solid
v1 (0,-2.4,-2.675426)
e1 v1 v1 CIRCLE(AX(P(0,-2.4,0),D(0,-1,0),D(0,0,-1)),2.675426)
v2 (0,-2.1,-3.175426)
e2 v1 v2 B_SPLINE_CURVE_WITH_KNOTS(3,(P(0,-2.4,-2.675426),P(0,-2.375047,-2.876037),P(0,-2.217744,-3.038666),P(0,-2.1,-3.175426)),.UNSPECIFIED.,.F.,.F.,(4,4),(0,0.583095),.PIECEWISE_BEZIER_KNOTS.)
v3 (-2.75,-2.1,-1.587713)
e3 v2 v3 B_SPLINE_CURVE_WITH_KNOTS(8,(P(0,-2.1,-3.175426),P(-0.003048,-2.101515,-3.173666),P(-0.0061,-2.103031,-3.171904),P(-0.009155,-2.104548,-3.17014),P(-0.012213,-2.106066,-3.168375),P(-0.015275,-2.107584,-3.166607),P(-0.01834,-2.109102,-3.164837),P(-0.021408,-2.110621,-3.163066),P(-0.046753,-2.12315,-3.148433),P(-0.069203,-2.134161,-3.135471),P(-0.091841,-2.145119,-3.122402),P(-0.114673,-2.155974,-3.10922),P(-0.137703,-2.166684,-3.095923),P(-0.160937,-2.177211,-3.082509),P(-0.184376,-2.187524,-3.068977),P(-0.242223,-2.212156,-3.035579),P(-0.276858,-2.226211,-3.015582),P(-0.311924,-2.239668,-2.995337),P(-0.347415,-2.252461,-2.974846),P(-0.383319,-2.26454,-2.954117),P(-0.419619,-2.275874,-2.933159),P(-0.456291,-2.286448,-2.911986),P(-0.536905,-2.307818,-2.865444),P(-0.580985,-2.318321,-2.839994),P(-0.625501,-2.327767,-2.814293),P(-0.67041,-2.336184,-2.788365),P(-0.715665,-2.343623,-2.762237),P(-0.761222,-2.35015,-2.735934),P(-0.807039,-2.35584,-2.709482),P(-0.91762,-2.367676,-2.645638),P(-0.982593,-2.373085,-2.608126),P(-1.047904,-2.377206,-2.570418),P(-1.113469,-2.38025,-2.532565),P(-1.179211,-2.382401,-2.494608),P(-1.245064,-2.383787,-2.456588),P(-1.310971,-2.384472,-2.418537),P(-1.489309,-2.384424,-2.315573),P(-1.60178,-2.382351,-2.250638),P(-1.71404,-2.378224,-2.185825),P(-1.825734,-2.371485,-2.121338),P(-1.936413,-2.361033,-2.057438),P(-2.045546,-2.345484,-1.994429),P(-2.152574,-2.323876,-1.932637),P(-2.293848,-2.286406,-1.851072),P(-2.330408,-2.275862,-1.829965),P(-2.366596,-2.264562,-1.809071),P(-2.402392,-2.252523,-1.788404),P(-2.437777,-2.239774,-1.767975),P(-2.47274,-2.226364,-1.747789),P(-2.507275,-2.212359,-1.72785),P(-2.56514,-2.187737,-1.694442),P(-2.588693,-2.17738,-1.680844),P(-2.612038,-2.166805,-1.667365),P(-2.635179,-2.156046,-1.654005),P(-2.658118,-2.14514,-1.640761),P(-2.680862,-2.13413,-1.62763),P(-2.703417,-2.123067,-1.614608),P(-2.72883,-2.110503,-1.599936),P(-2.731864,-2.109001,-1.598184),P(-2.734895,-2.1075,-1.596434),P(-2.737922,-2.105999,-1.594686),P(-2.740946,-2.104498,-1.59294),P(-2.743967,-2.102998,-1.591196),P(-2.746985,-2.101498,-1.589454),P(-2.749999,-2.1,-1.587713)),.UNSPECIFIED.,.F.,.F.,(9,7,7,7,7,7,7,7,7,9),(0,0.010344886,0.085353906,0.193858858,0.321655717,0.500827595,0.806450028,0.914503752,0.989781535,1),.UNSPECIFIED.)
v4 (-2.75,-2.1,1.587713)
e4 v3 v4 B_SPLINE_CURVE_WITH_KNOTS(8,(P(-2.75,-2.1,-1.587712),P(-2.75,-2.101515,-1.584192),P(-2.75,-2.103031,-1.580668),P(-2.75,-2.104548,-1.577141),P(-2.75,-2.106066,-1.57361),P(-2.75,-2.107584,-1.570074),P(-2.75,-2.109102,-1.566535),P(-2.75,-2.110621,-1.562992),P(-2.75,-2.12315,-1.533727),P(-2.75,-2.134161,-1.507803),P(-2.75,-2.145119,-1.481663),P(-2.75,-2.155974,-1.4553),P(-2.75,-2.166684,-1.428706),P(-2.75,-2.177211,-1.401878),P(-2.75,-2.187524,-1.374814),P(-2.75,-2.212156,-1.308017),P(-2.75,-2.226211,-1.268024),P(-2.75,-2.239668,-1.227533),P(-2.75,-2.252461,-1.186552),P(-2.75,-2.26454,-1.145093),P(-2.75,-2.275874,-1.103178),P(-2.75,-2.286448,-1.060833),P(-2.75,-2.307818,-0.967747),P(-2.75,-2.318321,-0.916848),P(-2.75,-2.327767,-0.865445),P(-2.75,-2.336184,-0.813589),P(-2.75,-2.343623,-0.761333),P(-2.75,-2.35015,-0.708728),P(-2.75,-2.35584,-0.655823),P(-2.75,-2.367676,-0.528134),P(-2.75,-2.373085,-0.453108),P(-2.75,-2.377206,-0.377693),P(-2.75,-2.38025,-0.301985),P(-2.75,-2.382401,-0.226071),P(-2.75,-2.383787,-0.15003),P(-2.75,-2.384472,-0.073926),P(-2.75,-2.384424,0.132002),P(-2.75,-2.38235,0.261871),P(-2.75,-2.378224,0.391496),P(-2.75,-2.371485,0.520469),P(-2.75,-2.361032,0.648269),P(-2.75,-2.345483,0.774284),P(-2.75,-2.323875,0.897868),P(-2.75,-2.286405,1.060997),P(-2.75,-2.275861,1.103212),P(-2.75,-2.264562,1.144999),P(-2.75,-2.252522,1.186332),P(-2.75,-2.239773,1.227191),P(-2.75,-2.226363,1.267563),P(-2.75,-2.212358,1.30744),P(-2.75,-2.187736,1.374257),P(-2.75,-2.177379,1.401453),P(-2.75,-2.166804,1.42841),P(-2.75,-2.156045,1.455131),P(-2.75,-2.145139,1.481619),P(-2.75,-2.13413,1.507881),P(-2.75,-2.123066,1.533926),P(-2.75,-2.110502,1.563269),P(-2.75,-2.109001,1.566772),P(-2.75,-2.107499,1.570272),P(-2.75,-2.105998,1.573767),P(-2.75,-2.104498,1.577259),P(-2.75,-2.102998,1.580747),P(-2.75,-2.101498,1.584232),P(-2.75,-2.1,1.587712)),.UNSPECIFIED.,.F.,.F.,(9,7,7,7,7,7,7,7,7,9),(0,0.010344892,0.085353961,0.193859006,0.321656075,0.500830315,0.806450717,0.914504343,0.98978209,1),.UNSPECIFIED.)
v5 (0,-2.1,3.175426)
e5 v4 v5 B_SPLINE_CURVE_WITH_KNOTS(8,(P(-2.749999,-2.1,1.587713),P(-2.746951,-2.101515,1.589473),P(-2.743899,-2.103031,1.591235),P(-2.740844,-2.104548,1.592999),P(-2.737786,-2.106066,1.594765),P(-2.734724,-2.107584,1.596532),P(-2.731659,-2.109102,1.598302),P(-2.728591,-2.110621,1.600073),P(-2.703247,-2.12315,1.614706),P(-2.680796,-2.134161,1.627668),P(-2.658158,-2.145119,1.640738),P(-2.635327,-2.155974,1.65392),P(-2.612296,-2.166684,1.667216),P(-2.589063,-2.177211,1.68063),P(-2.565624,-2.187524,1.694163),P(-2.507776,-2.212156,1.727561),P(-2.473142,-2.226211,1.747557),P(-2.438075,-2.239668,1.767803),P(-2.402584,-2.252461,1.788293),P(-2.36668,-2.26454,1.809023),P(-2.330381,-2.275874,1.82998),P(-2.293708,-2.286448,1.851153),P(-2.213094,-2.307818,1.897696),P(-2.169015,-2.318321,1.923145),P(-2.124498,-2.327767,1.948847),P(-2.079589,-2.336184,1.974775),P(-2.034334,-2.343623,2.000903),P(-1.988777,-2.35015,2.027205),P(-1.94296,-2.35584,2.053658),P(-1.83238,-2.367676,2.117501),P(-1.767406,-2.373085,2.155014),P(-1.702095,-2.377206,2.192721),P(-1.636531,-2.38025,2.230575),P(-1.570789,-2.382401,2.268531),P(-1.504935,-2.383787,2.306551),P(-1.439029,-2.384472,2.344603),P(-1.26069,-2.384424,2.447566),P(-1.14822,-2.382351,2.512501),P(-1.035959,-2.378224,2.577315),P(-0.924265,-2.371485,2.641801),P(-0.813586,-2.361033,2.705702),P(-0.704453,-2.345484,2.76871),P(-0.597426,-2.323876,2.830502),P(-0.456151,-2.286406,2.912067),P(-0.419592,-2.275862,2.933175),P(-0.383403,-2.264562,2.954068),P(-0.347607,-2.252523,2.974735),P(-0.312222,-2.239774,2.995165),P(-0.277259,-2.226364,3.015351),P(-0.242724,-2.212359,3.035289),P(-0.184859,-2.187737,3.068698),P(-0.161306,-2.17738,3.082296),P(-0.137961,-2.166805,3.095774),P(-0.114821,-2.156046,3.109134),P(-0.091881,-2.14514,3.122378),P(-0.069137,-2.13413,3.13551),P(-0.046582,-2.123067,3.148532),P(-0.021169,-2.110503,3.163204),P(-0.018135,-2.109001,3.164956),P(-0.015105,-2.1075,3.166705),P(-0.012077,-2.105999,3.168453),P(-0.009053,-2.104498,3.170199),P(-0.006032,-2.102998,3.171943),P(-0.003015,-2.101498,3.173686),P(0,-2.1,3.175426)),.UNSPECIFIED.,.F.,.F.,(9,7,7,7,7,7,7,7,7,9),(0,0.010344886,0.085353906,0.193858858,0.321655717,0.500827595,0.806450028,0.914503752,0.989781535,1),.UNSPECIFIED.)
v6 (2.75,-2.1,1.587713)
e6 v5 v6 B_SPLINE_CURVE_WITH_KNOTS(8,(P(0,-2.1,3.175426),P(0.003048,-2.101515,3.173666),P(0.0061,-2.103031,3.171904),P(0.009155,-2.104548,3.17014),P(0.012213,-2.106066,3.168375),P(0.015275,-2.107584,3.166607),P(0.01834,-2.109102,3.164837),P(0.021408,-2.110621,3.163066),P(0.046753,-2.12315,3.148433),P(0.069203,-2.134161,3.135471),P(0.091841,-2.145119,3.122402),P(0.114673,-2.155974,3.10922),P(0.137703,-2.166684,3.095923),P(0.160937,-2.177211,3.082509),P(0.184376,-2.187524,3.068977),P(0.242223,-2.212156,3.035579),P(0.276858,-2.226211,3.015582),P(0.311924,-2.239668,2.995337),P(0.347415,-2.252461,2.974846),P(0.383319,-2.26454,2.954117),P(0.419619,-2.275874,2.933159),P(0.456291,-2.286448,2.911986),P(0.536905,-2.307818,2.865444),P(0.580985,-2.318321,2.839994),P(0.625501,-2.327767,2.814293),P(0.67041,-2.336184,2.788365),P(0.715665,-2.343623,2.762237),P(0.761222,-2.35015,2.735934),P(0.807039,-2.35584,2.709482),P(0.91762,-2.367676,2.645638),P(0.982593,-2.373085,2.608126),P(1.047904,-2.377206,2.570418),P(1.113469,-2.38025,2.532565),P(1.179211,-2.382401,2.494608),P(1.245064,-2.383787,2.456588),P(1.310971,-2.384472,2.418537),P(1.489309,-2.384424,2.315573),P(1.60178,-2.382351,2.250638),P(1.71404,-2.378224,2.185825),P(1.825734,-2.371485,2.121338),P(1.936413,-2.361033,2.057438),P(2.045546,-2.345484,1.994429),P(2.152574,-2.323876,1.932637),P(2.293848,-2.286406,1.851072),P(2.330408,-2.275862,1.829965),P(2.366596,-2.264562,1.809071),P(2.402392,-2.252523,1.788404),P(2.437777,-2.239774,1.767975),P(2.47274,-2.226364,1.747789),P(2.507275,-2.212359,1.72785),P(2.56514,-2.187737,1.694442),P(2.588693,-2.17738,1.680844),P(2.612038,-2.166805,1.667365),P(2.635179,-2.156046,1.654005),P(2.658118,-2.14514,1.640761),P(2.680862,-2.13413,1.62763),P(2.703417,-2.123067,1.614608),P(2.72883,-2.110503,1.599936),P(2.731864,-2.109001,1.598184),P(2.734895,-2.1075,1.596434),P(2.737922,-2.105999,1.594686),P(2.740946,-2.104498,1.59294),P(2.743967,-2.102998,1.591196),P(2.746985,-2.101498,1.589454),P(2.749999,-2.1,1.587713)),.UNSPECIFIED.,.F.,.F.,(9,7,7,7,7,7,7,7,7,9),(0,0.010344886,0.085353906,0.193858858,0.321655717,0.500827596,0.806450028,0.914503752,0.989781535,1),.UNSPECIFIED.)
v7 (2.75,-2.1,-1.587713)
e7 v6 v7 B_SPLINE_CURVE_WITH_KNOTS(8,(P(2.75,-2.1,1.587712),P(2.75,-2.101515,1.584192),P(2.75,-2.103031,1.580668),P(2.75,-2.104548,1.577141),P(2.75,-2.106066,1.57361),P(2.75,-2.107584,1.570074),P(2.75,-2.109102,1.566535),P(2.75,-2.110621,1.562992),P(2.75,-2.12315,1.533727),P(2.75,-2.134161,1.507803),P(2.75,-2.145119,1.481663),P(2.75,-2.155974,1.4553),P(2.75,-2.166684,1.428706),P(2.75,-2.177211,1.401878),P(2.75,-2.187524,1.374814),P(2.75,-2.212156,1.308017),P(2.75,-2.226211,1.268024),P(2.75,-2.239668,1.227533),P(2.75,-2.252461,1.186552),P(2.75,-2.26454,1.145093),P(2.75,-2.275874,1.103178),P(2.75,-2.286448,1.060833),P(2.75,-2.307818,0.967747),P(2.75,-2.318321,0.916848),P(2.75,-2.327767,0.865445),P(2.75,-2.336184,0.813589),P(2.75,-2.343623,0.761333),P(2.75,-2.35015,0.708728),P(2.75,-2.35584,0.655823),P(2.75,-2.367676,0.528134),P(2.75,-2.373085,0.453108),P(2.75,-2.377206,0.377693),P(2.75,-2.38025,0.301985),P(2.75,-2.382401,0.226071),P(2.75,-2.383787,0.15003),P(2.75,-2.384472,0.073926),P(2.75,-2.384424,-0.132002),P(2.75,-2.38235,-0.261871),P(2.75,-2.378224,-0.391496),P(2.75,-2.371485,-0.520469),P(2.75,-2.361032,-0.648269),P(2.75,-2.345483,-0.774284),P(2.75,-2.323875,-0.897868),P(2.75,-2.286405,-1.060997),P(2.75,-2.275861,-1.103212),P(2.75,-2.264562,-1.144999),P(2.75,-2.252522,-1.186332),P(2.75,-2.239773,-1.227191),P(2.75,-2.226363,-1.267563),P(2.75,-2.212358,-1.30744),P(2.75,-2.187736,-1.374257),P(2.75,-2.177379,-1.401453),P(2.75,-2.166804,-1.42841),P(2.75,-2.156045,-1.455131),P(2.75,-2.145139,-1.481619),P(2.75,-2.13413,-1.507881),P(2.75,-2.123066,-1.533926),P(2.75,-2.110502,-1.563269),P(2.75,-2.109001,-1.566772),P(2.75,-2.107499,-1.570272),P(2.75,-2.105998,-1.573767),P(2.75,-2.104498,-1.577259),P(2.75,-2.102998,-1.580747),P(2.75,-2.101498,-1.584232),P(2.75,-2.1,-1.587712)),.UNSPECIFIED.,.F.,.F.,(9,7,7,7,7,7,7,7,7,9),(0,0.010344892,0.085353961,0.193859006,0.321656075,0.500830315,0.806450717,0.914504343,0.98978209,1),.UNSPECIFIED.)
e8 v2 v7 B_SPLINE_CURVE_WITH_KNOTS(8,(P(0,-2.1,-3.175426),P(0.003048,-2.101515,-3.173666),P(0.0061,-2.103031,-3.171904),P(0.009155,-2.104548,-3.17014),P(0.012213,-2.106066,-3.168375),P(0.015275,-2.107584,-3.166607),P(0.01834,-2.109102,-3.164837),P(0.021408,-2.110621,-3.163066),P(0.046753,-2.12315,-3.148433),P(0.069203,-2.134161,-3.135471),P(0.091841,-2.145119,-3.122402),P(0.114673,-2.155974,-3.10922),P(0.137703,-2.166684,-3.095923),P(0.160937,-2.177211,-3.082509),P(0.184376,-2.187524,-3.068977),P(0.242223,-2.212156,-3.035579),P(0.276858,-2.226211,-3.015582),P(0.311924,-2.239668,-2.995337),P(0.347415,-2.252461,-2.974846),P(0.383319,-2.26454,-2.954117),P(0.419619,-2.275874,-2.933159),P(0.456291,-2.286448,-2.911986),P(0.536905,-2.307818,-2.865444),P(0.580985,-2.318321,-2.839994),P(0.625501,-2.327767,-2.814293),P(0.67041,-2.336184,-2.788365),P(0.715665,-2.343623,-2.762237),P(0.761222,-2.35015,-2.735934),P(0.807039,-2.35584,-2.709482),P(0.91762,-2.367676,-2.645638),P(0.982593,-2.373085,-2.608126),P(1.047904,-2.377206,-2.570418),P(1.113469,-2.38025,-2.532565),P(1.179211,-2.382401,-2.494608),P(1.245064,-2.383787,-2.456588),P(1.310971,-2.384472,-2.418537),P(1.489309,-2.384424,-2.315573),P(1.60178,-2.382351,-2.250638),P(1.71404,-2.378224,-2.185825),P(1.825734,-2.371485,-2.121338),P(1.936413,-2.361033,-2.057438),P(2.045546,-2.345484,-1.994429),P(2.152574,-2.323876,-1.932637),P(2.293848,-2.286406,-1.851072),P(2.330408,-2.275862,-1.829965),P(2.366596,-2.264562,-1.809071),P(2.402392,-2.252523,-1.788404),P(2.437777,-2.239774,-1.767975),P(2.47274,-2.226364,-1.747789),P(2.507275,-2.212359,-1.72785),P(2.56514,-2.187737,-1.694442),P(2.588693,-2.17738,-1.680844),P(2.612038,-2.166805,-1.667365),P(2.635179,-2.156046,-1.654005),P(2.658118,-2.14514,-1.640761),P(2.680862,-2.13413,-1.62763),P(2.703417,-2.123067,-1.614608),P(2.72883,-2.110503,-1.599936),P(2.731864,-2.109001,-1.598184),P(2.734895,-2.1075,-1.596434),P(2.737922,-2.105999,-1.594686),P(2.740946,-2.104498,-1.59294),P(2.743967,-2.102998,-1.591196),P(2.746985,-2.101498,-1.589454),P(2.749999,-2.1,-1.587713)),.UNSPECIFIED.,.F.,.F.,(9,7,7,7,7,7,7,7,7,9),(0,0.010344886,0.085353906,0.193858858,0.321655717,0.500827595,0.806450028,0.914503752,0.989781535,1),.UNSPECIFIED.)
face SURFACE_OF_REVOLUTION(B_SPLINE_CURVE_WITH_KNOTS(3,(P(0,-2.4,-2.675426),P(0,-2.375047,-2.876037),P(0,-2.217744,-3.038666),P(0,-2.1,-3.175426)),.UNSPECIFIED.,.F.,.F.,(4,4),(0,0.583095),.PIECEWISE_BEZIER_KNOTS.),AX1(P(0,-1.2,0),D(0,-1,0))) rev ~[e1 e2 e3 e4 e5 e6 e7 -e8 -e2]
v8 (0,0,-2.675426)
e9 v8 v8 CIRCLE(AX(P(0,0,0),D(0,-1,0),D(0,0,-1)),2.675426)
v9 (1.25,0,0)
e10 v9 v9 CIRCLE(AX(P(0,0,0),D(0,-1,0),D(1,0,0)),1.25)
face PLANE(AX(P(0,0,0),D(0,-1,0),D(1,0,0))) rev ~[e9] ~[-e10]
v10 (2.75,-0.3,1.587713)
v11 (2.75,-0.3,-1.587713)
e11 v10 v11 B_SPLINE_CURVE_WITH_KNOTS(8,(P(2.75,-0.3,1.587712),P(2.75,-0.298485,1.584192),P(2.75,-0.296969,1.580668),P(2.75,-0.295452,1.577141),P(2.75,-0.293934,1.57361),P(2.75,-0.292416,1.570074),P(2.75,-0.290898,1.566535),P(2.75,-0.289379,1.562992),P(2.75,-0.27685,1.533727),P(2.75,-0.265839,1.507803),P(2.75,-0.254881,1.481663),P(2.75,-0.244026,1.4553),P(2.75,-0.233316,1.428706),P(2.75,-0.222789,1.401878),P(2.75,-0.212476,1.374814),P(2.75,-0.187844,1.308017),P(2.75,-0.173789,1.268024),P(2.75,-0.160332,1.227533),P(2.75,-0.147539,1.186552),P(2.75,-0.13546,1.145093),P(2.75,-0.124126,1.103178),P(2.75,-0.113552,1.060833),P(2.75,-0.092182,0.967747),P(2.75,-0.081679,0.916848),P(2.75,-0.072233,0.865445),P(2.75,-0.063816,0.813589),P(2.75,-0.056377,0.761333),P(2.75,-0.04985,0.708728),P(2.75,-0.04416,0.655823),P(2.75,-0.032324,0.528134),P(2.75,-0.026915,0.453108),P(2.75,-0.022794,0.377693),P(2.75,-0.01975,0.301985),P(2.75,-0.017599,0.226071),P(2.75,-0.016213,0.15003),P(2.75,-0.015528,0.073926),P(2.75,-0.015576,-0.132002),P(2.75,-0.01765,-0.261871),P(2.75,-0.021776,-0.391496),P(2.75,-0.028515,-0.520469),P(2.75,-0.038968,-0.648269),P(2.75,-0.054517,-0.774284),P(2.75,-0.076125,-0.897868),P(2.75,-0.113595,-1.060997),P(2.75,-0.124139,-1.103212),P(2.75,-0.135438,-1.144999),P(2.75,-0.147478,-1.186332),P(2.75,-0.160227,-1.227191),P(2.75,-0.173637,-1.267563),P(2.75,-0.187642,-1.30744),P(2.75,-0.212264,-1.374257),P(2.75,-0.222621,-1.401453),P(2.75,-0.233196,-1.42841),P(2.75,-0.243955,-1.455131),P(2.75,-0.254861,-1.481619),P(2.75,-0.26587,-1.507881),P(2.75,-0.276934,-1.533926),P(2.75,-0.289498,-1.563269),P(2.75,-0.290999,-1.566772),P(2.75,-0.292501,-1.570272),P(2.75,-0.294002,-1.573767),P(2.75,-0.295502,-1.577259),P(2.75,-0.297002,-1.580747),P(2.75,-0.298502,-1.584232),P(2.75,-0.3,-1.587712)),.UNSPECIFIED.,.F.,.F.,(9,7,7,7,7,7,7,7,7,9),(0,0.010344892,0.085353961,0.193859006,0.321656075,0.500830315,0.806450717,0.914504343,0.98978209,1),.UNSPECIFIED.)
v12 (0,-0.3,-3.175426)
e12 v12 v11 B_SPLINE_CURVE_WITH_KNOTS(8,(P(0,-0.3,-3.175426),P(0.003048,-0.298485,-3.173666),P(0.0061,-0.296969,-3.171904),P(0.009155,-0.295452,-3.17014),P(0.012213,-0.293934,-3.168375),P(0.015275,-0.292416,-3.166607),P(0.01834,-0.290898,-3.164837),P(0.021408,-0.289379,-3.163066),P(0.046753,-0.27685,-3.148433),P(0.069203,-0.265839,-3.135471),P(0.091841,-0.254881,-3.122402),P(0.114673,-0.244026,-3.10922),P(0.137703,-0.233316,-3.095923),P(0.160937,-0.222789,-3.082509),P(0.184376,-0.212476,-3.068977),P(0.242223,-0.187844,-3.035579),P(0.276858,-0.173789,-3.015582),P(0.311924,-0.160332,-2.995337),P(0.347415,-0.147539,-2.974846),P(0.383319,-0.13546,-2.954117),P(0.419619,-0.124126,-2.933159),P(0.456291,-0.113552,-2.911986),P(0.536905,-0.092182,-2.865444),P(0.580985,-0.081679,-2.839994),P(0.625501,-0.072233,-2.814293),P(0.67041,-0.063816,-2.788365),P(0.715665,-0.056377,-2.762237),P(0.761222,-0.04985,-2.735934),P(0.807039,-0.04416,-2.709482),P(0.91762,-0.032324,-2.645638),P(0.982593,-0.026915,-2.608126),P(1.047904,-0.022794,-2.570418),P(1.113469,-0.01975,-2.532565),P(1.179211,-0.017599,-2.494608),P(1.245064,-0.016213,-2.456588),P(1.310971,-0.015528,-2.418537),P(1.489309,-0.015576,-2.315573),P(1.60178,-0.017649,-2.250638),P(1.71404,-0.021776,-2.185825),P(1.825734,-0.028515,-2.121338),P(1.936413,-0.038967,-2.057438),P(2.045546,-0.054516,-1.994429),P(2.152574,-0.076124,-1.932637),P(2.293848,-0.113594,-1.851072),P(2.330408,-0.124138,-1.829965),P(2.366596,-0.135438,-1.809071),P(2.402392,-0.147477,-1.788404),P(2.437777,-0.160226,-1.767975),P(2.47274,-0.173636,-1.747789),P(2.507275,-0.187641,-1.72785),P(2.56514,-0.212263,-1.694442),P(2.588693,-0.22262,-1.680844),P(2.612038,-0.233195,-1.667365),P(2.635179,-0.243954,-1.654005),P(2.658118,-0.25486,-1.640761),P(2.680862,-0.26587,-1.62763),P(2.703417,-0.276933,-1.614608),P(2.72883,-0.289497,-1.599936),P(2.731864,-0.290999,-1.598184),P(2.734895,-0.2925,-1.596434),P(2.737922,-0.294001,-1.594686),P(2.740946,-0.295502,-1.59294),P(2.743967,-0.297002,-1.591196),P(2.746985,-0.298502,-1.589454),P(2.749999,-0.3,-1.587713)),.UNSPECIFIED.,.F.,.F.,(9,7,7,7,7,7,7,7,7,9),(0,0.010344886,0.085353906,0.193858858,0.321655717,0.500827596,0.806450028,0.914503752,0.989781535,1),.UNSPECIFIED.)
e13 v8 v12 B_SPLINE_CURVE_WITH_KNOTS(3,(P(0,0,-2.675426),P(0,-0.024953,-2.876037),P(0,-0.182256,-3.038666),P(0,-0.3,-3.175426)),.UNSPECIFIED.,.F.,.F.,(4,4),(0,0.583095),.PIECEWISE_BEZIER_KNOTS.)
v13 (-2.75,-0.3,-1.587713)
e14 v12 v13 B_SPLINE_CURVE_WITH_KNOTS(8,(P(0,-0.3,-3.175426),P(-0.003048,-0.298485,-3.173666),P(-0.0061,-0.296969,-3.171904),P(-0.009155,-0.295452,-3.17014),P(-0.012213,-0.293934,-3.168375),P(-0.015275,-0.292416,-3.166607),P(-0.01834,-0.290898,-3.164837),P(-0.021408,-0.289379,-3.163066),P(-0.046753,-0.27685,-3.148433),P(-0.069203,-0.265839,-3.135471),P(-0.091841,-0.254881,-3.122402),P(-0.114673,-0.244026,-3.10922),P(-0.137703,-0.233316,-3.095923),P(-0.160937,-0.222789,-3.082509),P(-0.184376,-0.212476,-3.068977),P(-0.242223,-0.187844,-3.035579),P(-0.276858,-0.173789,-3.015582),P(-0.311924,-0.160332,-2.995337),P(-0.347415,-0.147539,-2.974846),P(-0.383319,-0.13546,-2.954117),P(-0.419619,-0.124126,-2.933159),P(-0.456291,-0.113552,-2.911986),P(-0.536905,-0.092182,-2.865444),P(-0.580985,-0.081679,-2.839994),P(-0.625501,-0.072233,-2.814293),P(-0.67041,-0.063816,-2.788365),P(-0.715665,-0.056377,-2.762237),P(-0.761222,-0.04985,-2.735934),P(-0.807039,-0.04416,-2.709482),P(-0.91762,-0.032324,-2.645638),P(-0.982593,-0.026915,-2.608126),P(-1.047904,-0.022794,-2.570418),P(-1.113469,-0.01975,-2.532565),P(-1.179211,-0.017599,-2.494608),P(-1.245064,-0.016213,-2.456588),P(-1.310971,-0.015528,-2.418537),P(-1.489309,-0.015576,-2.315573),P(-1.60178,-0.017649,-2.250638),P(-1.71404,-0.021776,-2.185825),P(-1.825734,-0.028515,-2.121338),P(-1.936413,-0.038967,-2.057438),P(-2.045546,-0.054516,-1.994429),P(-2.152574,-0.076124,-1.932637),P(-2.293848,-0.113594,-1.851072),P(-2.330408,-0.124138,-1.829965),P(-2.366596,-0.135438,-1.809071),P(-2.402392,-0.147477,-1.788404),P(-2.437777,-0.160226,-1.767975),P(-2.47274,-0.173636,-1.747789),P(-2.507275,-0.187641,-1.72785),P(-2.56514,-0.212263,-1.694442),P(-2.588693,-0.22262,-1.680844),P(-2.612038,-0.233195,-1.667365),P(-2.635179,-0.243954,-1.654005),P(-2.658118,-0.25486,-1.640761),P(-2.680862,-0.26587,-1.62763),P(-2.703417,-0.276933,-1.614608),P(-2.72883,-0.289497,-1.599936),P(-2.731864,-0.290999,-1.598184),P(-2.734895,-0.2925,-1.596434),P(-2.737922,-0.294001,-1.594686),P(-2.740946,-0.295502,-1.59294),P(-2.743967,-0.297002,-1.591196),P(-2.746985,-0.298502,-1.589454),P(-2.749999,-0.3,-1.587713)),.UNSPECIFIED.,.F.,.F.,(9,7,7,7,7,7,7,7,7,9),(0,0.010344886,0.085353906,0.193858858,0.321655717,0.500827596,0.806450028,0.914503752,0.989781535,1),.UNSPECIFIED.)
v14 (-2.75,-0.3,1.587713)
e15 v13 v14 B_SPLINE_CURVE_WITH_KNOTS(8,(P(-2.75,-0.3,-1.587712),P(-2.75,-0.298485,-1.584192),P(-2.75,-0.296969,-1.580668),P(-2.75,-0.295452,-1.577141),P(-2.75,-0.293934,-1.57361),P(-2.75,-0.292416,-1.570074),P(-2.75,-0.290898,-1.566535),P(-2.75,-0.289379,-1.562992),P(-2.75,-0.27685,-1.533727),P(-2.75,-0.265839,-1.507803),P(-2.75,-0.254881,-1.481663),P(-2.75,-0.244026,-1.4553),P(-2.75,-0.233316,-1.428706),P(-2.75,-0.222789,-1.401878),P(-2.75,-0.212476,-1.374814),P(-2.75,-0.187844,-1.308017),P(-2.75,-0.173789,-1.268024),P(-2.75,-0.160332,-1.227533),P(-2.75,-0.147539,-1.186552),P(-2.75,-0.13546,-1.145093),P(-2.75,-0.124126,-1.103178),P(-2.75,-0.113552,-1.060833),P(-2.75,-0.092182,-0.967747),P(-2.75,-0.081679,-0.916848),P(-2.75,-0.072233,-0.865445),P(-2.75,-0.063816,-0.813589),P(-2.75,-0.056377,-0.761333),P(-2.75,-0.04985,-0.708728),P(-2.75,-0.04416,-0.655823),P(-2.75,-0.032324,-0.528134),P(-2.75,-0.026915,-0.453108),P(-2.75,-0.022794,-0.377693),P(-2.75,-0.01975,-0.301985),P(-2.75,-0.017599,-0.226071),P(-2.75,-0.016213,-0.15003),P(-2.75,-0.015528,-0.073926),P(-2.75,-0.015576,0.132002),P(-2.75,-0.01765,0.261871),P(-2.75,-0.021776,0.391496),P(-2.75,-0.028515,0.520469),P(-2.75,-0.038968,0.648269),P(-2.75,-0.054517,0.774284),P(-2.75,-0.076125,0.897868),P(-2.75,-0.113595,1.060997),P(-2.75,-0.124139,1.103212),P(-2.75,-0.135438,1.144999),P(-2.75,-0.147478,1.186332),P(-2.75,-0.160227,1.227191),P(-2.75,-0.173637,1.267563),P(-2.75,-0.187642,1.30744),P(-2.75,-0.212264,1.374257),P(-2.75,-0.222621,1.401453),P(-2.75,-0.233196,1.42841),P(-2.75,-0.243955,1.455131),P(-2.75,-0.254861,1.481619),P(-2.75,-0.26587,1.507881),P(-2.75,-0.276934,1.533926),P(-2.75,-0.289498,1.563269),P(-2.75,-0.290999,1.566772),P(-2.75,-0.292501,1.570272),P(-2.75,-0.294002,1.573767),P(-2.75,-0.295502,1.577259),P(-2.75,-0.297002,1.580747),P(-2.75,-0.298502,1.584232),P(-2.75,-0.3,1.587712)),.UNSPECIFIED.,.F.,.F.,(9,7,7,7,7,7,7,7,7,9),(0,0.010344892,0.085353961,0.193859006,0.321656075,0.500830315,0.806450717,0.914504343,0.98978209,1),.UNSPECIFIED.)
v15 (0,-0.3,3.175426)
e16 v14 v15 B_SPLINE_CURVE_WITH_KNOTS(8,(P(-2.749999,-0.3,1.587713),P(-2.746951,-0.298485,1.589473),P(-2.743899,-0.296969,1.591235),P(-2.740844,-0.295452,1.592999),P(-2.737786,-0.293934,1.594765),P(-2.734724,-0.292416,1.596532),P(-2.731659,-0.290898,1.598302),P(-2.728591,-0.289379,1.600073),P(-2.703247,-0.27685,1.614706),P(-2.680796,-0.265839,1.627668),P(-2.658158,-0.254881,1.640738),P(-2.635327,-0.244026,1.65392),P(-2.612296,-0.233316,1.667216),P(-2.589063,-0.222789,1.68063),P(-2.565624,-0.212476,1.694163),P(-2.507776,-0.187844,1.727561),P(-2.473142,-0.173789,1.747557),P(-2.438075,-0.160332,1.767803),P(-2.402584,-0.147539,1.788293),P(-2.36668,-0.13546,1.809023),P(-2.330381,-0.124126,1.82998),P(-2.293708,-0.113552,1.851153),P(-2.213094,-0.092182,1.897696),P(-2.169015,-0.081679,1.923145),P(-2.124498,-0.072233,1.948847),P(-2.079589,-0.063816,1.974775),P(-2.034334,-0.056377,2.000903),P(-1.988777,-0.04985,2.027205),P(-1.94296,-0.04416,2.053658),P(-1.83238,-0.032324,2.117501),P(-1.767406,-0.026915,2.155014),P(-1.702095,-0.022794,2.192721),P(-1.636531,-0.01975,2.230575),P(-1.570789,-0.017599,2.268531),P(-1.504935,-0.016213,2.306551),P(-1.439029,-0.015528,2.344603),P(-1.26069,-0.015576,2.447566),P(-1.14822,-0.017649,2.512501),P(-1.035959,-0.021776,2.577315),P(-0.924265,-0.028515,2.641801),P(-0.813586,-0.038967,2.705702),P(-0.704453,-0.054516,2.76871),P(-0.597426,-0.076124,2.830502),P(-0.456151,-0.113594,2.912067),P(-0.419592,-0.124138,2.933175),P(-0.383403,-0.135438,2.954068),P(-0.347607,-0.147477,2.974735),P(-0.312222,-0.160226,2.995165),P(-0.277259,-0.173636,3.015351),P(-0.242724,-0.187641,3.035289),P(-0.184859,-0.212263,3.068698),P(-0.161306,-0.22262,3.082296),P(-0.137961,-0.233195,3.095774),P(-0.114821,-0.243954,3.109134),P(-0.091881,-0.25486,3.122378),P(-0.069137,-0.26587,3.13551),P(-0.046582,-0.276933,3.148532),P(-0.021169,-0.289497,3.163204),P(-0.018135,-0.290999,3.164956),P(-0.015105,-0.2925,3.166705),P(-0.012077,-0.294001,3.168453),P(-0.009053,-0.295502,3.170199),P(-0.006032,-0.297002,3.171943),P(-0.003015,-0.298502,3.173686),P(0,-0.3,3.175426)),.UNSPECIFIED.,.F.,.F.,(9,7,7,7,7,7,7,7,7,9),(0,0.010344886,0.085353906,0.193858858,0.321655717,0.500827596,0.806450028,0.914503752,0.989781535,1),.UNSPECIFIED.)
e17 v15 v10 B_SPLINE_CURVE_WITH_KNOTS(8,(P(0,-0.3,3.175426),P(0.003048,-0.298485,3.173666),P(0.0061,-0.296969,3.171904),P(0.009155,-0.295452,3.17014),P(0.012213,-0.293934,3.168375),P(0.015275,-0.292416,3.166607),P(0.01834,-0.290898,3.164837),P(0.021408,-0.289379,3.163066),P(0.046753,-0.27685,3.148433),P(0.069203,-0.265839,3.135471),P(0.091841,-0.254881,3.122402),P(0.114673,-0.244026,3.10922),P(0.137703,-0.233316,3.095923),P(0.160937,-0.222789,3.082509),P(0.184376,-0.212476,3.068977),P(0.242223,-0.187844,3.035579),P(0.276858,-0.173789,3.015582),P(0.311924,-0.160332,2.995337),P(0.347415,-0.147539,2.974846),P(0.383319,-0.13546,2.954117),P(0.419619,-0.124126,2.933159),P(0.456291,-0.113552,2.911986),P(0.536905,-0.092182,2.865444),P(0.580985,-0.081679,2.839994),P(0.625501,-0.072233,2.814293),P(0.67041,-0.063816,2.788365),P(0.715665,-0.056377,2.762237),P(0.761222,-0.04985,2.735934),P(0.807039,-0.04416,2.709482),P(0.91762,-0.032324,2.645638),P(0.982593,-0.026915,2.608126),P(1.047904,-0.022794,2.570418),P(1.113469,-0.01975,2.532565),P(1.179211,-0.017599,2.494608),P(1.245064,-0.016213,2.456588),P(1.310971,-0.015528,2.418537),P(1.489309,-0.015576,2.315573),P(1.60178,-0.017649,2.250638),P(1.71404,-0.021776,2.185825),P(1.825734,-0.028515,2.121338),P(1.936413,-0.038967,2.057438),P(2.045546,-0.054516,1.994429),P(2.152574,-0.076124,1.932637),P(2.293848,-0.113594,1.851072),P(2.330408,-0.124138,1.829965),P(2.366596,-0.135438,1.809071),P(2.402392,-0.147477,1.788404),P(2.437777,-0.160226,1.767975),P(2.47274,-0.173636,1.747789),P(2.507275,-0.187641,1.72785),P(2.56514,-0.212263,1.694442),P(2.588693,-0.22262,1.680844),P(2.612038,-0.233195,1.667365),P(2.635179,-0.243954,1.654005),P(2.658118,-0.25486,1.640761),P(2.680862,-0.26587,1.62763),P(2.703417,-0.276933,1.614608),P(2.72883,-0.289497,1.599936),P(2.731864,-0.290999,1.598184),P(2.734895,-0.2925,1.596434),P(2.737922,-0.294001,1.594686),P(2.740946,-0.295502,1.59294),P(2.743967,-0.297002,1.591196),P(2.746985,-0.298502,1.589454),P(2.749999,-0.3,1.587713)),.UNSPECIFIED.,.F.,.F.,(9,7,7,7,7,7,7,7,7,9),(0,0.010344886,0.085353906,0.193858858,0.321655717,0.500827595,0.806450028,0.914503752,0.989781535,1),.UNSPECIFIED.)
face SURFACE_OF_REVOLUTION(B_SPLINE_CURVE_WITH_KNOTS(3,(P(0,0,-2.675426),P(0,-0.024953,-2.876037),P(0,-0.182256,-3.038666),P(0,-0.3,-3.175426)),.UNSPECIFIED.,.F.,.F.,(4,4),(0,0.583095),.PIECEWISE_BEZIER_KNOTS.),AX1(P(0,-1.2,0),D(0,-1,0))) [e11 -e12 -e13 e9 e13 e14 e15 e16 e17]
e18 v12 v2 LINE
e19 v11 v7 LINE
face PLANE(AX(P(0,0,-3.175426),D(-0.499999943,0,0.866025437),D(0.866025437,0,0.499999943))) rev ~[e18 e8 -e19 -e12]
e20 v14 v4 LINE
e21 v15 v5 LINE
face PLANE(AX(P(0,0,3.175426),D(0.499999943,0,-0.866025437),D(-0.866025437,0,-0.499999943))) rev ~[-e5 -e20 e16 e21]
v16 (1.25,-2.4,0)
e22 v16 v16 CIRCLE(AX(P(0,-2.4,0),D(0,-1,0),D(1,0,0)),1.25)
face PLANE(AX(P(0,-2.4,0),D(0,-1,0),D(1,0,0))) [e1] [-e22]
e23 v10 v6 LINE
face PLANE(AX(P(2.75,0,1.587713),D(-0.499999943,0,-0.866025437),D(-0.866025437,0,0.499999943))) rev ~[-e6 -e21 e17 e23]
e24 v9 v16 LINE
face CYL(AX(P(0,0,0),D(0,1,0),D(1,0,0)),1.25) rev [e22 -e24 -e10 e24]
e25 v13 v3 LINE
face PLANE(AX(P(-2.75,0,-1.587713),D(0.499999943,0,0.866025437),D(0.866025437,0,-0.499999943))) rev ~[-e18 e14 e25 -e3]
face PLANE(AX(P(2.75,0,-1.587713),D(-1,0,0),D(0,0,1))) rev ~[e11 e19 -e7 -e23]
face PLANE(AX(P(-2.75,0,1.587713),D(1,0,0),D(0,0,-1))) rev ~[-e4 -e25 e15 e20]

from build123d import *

# Parameters (mm, degrees)
F0_R     = 1.25
F1_DEPTH = 2.4


with BuildPart() as f1:
    # F0 (on Front) → F1 (new body)
    with BuildSketch(Plane.XZ):
        Polygon((2.75, -1.587713), (2.75, 1.587713), (0, 3.175426), (-2.75, 1.587713), (-2.75, -1.587713), (0, -3.175426), align=None)
        Circle(F0_R, mode=Mode.SUBTRACT)
    extrude(amount=F1_DEPTH)

    # F2 (on Right) → F3 (revolve, cut)
    with BuildSketch(Plane.YZ):
        with BuildLine():
            add(Edge.make_bspline(
                [(0, -2.675426), (-0.024953, -2.876037), (-0.182256, -3.038666), (-0.3, -3.175426)],
                knots=[0, 0, 0, 0, 0.583095, 0.583095, 0.583095, 0.583095], degree=3))
            Line((-0.3, -3.175426), (0, -3.175426))
            Line((0, -3.175426), (0, -2.675426))
        make_face()
        with BuildLine():
            Line((-2.4, -3.175426), (-2.1, -3.175426))
            add(Edge.make_bspline(
                [(-2.4, -2.675426), (-2.375047, -2.876037), (-2.217744, -3.038666), (-2.1, -3.175426)],
                knots=[0, 0, 0, 0, 0.583095, 0.583095, 0.583095, 0.583095], degree=3))
            Line((-2.4, -2.675426), (-2.4, -3.175426))
        make_face()
    revolve(axis=Axis((0, -1.2, 0), (0, -1, 0)), mode=Mode.SUBTRACT)


solid = f1.part
